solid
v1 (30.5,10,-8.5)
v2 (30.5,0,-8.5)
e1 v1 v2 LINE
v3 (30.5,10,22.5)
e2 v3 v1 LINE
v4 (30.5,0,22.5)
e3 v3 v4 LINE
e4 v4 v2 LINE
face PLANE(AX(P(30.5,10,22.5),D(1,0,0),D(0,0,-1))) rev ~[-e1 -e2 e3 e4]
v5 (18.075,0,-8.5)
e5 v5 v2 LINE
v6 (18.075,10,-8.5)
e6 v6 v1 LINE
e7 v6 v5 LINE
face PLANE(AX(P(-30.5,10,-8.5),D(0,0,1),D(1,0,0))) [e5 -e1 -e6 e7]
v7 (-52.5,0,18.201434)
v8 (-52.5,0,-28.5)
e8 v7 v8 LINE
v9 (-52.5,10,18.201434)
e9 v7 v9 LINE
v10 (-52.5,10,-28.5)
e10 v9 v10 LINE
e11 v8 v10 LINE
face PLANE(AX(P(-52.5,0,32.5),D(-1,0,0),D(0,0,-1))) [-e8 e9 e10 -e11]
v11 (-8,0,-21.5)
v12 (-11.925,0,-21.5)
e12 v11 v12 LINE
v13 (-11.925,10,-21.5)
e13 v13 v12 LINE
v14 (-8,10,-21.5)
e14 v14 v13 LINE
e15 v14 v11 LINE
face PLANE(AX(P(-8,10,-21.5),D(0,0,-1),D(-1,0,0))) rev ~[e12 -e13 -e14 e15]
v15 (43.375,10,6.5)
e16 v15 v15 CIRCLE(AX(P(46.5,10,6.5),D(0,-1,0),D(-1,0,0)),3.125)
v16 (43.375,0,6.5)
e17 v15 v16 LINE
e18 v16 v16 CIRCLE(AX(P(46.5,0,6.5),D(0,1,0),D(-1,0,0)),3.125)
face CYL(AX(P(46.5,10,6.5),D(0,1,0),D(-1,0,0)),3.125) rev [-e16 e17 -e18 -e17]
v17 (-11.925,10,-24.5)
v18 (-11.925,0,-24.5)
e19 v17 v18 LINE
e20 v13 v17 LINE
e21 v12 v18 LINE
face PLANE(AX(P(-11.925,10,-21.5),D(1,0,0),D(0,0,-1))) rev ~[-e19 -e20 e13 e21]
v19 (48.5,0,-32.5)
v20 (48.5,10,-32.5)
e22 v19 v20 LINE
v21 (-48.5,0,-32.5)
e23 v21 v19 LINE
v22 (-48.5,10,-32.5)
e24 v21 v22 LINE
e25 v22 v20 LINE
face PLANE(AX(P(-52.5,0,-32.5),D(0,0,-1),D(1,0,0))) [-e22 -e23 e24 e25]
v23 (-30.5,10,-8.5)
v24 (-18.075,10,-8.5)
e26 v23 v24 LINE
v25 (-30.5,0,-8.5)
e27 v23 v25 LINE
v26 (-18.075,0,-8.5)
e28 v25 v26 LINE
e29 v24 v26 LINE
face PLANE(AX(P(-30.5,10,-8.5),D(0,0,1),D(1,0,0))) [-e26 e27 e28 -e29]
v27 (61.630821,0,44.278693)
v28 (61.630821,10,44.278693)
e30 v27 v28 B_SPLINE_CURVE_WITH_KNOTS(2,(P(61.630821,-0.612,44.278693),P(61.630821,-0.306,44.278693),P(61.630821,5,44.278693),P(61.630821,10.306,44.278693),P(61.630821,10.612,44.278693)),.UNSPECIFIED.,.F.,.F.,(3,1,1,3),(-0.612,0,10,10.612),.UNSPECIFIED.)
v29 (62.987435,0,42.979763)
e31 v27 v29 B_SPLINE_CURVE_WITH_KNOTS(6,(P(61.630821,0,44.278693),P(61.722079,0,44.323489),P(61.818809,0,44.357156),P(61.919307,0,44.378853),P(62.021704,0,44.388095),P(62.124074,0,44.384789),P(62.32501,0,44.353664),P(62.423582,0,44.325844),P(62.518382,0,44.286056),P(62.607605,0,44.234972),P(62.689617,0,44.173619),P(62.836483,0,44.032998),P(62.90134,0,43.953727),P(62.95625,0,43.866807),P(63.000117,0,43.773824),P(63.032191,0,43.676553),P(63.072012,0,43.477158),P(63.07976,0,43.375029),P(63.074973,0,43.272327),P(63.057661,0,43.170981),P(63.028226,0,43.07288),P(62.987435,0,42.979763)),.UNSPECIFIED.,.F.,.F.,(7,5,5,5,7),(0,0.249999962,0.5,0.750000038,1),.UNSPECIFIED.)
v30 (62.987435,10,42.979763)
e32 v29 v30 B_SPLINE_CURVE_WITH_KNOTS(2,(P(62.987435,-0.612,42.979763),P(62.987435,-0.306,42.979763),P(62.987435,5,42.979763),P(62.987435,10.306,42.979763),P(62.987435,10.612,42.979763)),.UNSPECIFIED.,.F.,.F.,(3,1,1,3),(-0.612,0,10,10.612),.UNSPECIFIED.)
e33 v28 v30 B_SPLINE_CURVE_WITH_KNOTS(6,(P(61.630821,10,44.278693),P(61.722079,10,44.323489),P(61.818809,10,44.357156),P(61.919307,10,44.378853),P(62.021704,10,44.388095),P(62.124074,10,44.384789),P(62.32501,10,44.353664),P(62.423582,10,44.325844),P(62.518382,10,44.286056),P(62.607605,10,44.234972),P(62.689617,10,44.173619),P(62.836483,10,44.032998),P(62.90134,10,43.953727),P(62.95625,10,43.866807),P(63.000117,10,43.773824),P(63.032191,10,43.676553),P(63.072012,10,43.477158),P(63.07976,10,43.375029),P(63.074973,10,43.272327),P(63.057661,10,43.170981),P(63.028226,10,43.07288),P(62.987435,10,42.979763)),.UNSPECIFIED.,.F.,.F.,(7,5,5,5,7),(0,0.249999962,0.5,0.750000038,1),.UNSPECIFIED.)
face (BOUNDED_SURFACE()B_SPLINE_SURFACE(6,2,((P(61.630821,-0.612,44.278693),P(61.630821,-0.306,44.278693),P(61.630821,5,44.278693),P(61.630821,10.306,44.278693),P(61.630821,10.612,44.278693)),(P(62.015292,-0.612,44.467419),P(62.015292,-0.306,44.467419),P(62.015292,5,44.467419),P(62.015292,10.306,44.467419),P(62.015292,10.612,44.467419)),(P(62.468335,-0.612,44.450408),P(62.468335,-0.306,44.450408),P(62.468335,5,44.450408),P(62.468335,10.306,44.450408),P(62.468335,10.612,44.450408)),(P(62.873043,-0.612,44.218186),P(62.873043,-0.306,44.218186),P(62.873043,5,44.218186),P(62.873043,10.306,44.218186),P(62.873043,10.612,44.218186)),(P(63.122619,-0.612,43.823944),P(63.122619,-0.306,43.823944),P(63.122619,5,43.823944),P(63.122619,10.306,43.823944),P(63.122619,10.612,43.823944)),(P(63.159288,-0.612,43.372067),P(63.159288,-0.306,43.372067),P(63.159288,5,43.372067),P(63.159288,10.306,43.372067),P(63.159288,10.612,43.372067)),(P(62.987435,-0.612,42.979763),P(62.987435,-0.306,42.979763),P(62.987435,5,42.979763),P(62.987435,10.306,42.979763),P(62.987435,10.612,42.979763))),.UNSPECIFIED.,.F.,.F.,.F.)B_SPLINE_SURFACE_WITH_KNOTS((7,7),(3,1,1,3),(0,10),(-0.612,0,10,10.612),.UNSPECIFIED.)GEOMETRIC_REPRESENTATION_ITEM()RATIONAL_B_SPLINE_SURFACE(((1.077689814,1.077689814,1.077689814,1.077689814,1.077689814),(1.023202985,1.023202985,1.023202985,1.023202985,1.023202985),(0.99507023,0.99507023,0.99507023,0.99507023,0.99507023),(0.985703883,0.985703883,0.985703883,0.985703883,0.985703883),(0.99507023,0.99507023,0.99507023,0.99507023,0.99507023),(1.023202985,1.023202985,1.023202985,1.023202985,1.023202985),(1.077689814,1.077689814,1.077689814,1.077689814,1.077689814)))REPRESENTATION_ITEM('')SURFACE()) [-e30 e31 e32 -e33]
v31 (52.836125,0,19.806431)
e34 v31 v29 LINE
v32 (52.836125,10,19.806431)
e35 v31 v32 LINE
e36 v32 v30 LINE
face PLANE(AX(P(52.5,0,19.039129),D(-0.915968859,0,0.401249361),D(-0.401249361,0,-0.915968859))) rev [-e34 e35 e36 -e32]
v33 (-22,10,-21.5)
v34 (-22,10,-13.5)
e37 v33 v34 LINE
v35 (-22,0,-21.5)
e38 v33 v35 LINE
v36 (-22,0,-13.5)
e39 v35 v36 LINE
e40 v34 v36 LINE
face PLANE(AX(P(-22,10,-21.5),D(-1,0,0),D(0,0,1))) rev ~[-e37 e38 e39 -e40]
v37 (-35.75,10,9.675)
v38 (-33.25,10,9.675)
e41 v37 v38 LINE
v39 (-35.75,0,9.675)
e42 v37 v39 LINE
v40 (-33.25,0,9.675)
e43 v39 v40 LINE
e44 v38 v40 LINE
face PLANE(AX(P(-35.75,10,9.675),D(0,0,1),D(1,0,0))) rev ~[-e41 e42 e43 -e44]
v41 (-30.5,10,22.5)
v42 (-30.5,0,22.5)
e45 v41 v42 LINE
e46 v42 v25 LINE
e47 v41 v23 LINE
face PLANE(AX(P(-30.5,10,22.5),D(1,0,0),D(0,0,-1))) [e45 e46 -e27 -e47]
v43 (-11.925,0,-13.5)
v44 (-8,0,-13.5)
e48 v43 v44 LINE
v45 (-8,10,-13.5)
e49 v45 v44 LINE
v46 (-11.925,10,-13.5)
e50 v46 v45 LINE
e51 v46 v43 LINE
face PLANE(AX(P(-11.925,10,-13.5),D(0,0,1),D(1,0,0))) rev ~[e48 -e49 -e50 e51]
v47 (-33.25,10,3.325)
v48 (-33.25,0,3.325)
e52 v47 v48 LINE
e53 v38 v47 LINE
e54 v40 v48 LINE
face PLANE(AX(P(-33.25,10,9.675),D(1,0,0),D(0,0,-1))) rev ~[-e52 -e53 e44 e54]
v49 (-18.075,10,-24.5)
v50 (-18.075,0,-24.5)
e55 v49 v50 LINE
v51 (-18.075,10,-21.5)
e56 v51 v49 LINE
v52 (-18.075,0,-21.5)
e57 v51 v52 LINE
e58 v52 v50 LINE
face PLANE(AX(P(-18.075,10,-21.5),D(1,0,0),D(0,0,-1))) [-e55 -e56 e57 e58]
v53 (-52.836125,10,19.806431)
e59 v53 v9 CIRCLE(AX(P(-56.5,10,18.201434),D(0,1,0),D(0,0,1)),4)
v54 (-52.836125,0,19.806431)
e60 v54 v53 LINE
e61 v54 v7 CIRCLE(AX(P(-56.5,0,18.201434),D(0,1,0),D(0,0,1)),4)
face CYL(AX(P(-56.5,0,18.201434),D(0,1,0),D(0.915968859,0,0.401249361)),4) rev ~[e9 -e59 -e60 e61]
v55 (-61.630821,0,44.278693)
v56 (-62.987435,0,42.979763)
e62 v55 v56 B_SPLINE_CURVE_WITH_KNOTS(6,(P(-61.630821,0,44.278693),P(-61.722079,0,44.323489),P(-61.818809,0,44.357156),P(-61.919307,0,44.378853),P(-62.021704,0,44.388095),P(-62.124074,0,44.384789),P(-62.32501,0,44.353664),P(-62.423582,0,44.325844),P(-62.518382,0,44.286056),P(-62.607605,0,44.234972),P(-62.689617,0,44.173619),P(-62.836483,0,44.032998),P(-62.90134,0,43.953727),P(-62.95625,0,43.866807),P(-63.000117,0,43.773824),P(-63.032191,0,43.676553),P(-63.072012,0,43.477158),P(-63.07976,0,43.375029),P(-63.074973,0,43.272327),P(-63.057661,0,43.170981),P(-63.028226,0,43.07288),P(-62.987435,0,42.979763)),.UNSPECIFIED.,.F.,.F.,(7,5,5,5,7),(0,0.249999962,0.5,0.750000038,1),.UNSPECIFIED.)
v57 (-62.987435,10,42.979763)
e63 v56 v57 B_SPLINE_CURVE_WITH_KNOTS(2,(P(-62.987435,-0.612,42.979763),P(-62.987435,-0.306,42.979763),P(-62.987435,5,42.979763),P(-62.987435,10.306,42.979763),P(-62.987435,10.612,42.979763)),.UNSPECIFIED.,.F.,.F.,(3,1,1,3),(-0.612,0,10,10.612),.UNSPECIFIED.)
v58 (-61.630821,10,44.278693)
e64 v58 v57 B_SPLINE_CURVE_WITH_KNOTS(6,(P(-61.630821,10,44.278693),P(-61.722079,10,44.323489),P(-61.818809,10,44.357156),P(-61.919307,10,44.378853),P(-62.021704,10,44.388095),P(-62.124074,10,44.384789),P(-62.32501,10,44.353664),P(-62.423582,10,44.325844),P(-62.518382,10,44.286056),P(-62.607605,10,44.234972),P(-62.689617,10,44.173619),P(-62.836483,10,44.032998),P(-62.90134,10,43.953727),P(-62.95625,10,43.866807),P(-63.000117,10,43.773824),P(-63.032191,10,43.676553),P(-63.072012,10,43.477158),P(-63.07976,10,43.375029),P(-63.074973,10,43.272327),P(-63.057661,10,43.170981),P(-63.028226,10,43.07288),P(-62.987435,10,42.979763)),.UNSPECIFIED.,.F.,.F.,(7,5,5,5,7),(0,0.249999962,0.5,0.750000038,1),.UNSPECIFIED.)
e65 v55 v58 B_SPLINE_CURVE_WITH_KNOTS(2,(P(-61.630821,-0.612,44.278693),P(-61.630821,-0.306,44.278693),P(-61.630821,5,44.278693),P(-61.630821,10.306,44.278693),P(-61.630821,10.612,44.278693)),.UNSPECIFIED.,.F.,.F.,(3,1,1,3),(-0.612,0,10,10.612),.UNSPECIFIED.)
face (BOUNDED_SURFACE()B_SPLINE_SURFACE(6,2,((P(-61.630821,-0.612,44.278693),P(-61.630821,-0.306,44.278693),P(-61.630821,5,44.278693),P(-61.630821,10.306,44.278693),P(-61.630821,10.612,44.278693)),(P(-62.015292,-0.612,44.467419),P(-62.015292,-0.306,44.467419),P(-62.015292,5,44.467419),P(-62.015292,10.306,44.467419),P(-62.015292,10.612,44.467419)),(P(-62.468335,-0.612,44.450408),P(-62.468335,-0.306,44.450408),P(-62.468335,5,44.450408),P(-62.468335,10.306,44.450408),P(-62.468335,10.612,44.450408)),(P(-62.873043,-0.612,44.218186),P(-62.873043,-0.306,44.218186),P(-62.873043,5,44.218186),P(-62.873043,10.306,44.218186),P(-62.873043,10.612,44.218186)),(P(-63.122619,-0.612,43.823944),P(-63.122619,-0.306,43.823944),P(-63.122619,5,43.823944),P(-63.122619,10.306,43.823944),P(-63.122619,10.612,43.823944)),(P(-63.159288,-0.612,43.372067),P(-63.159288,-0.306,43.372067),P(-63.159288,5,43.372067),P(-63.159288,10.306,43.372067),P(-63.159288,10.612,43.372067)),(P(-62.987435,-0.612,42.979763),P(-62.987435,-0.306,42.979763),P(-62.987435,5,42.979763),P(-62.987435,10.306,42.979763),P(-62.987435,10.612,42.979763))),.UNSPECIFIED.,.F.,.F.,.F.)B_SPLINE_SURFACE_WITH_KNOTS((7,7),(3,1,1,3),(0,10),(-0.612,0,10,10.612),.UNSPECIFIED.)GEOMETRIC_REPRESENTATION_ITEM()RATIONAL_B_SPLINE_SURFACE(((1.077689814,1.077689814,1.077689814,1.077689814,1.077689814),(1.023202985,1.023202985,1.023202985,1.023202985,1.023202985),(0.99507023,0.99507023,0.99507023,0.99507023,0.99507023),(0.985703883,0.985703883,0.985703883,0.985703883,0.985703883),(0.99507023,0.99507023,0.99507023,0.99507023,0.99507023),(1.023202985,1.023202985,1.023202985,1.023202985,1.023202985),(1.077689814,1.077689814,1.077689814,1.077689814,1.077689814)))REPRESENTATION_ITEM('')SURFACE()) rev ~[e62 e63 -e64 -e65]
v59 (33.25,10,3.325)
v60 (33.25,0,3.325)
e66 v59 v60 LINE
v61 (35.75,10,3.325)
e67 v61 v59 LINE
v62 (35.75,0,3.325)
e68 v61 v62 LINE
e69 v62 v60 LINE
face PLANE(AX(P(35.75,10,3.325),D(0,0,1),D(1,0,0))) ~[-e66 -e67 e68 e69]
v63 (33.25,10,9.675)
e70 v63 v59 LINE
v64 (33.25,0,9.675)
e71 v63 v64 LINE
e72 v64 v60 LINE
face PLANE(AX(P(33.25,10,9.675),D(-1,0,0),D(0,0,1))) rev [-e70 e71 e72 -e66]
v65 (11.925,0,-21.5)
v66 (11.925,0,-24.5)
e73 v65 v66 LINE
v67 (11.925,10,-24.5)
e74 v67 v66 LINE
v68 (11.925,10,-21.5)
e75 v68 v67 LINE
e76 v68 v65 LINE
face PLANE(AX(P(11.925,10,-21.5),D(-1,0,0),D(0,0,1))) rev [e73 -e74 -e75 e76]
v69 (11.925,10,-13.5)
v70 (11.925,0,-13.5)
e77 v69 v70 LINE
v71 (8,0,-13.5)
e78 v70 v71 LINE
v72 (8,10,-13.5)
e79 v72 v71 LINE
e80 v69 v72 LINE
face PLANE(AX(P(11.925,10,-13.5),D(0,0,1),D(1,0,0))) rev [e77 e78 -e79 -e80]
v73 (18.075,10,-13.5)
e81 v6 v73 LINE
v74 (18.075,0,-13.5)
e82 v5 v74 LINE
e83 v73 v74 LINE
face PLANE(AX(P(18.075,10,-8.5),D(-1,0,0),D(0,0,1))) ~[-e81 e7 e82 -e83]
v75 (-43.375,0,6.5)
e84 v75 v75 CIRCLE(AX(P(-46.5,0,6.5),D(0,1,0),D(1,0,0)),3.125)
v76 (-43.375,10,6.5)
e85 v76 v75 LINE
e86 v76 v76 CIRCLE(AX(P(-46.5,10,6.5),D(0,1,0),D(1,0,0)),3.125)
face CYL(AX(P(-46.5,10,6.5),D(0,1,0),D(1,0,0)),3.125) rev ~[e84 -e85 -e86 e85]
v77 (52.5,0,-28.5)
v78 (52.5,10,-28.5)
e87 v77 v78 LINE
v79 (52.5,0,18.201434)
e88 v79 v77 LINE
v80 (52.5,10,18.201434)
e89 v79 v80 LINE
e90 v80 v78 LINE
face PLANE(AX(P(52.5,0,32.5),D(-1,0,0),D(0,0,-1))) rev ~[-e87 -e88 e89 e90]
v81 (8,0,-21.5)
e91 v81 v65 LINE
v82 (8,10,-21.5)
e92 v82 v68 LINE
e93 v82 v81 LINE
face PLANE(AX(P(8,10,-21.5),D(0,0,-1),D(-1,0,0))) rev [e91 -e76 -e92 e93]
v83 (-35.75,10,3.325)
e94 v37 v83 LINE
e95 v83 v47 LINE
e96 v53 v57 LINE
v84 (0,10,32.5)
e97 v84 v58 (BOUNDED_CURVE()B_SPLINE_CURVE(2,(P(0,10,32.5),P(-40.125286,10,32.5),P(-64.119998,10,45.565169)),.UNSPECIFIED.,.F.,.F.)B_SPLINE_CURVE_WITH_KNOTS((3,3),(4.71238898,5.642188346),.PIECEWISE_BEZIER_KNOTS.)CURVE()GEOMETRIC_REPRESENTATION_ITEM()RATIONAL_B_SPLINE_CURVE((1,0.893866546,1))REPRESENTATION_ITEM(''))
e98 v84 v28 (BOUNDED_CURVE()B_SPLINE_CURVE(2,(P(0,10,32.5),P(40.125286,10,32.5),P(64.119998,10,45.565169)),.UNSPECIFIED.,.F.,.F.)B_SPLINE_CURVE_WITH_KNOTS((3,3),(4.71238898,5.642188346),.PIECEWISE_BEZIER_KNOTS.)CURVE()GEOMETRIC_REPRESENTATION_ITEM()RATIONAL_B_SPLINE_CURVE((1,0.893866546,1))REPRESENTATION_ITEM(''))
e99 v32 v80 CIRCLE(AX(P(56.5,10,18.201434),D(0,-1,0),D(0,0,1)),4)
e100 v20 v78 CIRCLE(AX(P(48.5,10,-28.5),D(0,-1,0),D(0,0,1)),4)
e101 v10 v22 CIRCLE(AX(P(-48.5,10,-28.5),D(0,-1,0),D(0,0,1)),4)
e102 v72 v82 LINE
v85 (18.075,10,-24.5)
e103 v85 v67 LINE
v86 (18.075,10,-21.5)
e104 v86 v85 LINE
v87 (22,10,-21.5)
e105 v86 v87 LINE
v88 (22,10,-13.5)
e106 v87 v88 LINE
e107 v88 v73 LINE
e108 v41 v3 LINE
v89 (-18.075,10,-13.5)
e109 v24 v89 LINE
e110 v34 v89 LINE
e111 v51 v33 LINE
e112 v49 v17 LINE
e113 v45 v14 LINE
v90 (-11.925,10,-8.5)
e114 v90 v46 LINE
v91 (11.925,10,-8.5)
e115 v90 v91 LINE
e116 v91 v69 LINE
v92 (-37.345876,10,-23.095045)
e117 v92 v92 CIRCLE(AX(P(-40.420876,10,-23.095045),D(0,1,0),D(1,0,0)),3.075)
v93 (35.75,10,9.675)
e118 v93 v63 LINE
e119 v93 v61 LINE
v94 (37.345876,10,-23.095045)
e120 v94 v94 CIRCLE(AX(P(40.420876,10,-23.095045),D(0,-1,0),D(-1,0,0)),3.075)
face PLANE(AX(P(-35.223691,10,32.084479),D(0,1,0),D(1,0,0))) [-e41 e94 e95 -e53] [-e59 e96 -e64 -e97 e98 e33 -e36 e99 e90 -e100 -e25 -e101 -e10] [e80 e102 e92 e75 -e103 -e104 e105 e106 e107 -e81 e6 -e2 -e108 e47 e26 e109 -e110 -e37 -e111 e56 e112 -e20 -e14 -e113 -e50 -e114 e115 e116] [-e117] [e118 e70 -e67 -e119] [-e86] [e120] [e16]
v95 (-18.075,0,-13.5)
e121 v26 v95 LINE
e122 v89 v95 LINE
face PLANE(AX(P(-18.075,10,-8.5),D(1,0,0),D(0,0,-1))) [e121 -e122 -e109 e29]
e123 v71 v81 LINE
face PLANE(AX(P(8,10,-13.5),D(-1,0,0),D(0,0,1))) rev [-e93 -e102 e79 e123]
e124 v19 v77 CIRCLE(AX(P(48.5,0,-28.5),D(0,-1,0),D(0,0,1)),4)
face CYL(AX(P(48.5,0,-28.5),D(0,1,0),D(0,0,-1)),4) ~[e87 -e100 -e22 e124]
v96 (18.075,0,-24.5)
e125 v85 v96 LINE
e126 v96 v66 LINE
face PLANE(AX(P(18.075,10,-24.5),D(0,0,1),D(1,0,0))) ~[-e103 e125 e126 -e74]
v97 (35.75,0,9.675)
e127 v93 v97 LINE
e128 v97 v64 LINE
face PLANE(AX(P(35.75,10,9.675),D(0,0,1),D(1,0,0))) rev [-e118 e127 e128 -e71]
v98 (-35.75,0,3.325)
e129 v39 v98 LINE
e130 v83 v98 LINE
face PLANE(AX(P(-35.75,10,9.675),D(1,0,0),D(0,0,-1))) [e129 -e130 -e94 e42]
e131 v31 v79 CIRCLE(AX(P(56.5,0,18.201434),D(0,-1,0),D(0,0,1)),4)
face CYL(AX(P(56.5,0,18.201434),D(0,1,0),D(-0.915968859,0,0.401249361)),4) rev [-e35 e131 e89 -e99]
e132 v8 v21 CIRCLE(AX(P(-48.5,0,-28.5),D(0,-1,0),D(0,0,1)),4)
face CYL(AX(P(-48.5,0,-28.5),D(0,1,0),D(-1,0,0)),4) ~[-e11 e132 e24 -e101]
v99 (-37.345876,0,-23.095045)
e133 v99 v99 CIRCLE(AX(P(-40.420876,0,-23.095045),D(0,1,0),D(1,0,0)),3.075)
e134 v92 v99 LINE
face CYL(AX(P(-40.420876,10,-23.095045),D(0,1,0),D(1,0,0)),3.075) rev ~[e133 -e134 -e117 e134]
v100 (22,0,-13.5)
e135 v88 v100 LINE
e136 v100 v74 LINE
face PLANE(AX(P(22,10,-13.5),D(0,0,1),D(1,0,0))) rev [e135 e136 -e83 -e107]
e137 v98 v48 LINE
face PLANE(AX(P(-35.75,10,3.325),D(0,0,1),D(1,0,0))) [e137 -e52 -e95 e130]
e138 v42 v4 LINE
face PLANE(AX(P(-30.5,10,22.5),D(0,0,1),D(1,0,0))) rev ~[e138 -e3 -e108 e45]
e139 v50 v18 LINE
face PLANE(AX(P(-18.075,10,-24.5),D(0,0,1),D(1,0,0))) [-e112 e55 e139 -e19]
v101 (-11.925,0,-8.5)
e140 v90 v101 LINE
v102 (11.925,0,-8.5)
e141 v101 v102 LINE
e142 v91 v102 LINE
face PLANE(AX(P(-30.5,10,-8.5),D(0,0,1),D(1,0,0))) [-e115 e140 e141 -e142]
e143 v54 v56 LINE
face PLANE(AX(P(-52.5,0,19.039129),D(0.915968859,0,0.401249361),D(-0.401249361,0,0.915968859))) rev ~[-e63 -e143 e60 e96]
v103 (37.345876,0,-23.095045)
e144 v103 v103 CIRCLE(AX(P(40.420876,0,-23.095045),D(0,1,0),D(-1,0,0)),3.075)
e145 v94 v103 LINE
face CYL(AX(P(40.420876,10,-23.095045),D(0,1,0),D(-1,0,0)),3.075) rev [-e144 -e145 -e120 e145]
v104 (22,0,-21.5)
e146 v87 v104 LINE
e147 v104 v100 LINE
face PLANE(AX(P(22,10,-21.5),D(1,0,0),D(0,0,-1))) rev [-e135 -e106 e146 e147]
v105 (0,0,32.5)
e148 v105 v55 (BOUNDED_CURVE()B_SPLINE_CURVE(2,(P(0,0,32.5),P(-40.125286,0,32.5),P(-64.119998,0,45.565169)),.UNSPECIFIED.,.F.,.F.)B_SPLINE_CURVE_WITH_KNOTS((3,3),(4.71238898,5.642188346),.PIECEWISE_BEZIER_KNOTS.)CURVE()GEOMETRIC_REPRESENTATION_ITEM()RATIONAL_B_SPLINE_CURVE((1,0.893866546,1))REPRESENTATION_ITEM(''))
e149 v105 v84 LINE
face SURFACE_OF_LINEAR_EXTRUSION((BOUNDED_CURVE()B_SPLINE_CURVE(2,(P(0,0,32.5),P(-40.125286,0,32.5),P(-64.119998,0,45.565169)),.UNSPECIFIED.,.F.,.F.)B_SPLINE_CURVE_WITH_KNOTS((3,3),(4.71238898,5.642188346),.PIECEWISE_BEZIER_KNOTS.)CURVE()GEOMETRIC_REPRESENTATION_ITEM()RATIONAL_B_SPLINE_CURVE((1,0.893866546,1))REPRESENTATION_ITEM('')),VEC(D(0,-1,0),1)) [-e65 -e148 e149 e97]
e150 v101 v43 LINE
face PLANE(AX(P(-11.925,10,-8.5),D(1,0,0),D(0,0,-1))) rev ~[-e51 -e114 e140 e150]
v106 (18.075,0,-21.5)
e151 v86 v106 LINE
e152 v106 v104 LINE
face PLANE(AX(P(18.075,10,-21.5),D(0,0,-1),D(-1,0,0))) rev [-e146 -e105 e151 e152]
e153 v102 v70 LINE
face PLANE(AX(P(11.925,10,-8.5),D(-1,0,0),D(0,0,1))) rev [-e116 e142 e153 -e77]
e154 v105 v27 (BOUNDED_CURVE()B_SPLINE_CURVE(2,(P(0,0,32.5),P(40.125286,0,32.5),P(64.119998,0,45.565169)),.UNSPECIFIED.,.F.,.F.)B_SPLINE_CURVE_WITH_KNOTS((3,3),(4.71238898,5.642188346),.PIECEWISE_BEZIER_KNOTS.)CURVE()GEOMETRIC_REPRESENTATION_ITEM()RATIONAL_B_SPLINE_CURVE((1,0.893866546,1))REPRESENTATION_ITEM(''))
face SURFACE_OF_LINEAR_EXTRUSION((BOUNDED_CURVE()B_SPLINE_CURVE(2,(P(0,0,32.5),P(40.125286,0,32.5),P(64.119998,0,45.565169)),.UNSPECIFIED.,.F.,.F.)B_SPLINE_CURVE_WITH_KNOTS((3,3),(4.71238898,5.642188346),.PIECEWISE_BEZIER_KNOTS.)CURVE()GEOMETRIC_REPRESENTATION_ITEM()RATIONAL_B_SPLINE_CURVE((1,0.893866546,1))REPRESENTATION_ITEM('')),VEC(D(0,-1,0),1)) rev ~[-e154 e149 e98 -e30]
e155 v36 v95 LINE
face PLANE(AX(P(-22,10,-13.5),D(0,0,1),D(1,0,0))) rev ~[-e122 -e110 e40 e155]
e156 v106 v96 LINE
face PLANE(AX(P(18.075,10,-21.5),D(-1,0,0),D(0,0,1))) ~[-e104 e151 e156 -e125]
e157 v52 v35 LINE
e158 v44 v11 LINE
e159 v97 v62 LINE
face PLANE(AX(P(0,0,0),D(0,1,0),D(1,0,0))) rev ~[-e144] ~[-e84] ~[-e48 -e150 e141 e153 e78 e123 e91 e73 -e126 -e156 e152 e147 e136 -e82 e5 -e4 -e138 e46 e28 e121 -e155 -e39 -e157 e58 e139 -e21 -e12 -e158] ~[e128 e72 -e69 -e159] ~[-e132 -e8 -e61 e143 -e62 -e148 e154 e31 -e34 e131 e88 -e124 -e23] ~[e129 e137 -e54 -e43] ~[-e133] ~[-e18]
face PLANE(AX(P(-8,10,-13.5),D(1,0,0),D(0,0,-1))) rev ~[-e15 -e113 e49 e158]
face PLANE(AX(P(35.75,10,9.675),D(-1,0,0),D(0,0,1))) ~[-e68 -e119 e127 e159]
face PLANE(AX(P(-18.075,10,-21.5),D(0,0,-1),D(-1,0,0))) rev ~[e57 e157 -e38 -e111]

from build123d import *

# Parameters (mm, degrees)
SKETCH1_W           = 105
SKETCH1_H           = 65
BOSS_EXTRUDE1_DEPTH = 10
SKETCH2_W           = 61
SKETCH2_H           = 31
CUT_EXTRUDE1_DEPTH  = 11
SKETCH3_W           = 6.15
SKETCH3_H           = 5
SKETCH3_H_2         = 3
CUT_EXTRUDE2_DEPTH  = 10
SKETCH4_R           = 3.125
SKETCH4_W           = 2.5
SKETCH4_H           = 6.35
CUT_EXTRUDE3_DEPTH  = 11
BOSS_EXTRUDE2_DEPTH = 10
SKETCH6_R           = 3.075
CUT_EXTRUDE4_DEPTH  = 11.0000001
FILLET2_R           = 1
FILLET1_R           = 4


with BuildPart() as part:
    # Sketch1 → Boss-Extrude1 (new body)
    with BuildSketch(Plane(origin=(0, 0, 0), x_dir=(1, 0, 0), z_dir=(0, 1, 0))):
        Rectangle(SKETCH1_W, SKETCH1_H)
    extrude(amount=BOSS_EXTRUDE1_DEPTH)

    # Sketch2 → Cut-Extrude1 (cut, through all)
    with BuildSketch(Plane(origin=(0, 10, 0), x_dir=(1, 0, 0), z_dir=(0, 1, 0))):
        with Locations((0, -7)):
            Rectangle(SKETCH2_W, SKETCH2_H)
    extrude(amount=-CUT_EXTRUDE1_DEPTH, mode=Mode.SUBTRACT)

    # Sketch3 → Cut-Extrude2 (cut)
    with BuildSketch(Plane(origin=(0, 10, 0), x_dir=(1, 0, 0), z_dir=(0, 1, 0))):
        with Locations((-15, 11)):
            Rectangle(SKETCH3_W, SKETCH3_H)
        Polygon((-18.075, 21.5), (-22, 21.5), (-22, 13.5), (-18.075, 13.5), (-11.925, 13.5), (-8, 13.5), (-8, 21.5), (-11.925, 21.5), (-11.925, 18.5), (-18.075, 18.5), align=None)
        with Locations((-15, 20)):
            Rectangle(SKETCH3_W, SKETCH3_H_2)
        with Locations((-15, 23)):
            Rectangle(SKETCH3_W, SKETCH3_H_2)
    cut_extrude2 = extrude(amount=-CUT_EXTRUDE2_DEPTH, mode=Mode.SUBTRACT)

    # Sketch4 → Cut-Extrude3 (cut, through all)
    with BuildSketch(Plane(origin=(0, 10, 0), x_dir=(1, 0, 0), z_dir=(0, 1, 0))):
        with Locations((-46.5, -6.5)):
            Circle(SKETCH4_R)
        with Locations((-34.5, -6.5)):
            Rectangle(SKETCH4_W, SKETCH4_H)
    cut_extrude3 = extrude(amount=-CUT_EXTRUDE3_DEPTH, mode=Mode.SUBTRACT)

    # Sketch5 → Boss-Extrude2 (add)
    with BuildSketch(Plane(origin=(0, 0, 0), x_dir=(1, 0, 0), z_dir=(0, 1, 0))):
        with BuildLine():
            Line((0, -32.5), (-52.5, -19.039128985))
            Line((-52.5, -19.039128985), (-64.119998298, -45.565168911))
            add(Edge.make_bspline(
                [(0, -32.5), (-40.125285882, -32.5), (-64.119998298, -45.565168911)],
                knots=[4.71238898, 4.71238898, 4.71238898, 5.642188346, 5.642188346, 5.642188346], degree=2, weights=[1, 0.893866546, 1]))
        make_face()
    boss_extrude2 = extrude(amount=BOSS_EXTRUDE2_DEPTH)

    # Sketch6 → Cut-Extrude4 (cut, through all)
    with BuildSketch(Plane(origin=(0, 10, 0), x_dir=(1, 0, 0), z_dir=(0, 1, 0))):
        with Locations((-40.420875644, 23.095045258)):
            Circle(SKETCH6_R)
    cut_extrude4 = extrude(amount=-CUT_EXTRUDE4_DEPTH, mode=Mode.SUBTRACT)

    # Mirror1: Cut-Extrude2, Cut-Extrude3, Boss-Extrude2, Cut-Extrude4 across plane
    add(cut_extrude2.mirror(Plane(origin=(0, 0, 0), x_dir=(0, 0, 1), z_dir=(1, 0, 0))), mode=Mode.SUBTRACT)
    add(cut_extrude3.mirror(Plane(origin=(0, 0, 0), x_dir=(0, 0, 1), z_dir=(1, 0, 0))), mode=Mode.SUBTRACT)
    add(boss_extrude2.mirror(Plane(origin=(0, 0, 0), x_dir=(0, 0, 1), z_dir=(1, 0, 0))))
    add(cut_extrude4.mirror(Plane(origin=(0, 0, 0), x_dir=(0, 0, 1), z_dir=(1, 0, 0))), mode=Mode.SUBTRACT)

    # Fillet2
    fillet2_edges = [part.edges().sort_by_distance(p)[0] for p in [
        (-64.119998298, 5, 45.565168911),
        (64.119998298, 5, 45.565168911),
    ]]
    fillet(fillet2_edges, radius=FILLET2_R)

    # Fillet1
    fillet1_edges = [part.edges().sort_by_distance(p)[0] for p in [
        (52.5, 5, 19.039128985),
        (-52.5, 5, -32.5),
        (52.5, 5, -32.5),
        (-52.5, 5, 19.039128985),
    ]]
    fillet(fillet1_edges, radius=FILLET1_R)


solid = part.part
